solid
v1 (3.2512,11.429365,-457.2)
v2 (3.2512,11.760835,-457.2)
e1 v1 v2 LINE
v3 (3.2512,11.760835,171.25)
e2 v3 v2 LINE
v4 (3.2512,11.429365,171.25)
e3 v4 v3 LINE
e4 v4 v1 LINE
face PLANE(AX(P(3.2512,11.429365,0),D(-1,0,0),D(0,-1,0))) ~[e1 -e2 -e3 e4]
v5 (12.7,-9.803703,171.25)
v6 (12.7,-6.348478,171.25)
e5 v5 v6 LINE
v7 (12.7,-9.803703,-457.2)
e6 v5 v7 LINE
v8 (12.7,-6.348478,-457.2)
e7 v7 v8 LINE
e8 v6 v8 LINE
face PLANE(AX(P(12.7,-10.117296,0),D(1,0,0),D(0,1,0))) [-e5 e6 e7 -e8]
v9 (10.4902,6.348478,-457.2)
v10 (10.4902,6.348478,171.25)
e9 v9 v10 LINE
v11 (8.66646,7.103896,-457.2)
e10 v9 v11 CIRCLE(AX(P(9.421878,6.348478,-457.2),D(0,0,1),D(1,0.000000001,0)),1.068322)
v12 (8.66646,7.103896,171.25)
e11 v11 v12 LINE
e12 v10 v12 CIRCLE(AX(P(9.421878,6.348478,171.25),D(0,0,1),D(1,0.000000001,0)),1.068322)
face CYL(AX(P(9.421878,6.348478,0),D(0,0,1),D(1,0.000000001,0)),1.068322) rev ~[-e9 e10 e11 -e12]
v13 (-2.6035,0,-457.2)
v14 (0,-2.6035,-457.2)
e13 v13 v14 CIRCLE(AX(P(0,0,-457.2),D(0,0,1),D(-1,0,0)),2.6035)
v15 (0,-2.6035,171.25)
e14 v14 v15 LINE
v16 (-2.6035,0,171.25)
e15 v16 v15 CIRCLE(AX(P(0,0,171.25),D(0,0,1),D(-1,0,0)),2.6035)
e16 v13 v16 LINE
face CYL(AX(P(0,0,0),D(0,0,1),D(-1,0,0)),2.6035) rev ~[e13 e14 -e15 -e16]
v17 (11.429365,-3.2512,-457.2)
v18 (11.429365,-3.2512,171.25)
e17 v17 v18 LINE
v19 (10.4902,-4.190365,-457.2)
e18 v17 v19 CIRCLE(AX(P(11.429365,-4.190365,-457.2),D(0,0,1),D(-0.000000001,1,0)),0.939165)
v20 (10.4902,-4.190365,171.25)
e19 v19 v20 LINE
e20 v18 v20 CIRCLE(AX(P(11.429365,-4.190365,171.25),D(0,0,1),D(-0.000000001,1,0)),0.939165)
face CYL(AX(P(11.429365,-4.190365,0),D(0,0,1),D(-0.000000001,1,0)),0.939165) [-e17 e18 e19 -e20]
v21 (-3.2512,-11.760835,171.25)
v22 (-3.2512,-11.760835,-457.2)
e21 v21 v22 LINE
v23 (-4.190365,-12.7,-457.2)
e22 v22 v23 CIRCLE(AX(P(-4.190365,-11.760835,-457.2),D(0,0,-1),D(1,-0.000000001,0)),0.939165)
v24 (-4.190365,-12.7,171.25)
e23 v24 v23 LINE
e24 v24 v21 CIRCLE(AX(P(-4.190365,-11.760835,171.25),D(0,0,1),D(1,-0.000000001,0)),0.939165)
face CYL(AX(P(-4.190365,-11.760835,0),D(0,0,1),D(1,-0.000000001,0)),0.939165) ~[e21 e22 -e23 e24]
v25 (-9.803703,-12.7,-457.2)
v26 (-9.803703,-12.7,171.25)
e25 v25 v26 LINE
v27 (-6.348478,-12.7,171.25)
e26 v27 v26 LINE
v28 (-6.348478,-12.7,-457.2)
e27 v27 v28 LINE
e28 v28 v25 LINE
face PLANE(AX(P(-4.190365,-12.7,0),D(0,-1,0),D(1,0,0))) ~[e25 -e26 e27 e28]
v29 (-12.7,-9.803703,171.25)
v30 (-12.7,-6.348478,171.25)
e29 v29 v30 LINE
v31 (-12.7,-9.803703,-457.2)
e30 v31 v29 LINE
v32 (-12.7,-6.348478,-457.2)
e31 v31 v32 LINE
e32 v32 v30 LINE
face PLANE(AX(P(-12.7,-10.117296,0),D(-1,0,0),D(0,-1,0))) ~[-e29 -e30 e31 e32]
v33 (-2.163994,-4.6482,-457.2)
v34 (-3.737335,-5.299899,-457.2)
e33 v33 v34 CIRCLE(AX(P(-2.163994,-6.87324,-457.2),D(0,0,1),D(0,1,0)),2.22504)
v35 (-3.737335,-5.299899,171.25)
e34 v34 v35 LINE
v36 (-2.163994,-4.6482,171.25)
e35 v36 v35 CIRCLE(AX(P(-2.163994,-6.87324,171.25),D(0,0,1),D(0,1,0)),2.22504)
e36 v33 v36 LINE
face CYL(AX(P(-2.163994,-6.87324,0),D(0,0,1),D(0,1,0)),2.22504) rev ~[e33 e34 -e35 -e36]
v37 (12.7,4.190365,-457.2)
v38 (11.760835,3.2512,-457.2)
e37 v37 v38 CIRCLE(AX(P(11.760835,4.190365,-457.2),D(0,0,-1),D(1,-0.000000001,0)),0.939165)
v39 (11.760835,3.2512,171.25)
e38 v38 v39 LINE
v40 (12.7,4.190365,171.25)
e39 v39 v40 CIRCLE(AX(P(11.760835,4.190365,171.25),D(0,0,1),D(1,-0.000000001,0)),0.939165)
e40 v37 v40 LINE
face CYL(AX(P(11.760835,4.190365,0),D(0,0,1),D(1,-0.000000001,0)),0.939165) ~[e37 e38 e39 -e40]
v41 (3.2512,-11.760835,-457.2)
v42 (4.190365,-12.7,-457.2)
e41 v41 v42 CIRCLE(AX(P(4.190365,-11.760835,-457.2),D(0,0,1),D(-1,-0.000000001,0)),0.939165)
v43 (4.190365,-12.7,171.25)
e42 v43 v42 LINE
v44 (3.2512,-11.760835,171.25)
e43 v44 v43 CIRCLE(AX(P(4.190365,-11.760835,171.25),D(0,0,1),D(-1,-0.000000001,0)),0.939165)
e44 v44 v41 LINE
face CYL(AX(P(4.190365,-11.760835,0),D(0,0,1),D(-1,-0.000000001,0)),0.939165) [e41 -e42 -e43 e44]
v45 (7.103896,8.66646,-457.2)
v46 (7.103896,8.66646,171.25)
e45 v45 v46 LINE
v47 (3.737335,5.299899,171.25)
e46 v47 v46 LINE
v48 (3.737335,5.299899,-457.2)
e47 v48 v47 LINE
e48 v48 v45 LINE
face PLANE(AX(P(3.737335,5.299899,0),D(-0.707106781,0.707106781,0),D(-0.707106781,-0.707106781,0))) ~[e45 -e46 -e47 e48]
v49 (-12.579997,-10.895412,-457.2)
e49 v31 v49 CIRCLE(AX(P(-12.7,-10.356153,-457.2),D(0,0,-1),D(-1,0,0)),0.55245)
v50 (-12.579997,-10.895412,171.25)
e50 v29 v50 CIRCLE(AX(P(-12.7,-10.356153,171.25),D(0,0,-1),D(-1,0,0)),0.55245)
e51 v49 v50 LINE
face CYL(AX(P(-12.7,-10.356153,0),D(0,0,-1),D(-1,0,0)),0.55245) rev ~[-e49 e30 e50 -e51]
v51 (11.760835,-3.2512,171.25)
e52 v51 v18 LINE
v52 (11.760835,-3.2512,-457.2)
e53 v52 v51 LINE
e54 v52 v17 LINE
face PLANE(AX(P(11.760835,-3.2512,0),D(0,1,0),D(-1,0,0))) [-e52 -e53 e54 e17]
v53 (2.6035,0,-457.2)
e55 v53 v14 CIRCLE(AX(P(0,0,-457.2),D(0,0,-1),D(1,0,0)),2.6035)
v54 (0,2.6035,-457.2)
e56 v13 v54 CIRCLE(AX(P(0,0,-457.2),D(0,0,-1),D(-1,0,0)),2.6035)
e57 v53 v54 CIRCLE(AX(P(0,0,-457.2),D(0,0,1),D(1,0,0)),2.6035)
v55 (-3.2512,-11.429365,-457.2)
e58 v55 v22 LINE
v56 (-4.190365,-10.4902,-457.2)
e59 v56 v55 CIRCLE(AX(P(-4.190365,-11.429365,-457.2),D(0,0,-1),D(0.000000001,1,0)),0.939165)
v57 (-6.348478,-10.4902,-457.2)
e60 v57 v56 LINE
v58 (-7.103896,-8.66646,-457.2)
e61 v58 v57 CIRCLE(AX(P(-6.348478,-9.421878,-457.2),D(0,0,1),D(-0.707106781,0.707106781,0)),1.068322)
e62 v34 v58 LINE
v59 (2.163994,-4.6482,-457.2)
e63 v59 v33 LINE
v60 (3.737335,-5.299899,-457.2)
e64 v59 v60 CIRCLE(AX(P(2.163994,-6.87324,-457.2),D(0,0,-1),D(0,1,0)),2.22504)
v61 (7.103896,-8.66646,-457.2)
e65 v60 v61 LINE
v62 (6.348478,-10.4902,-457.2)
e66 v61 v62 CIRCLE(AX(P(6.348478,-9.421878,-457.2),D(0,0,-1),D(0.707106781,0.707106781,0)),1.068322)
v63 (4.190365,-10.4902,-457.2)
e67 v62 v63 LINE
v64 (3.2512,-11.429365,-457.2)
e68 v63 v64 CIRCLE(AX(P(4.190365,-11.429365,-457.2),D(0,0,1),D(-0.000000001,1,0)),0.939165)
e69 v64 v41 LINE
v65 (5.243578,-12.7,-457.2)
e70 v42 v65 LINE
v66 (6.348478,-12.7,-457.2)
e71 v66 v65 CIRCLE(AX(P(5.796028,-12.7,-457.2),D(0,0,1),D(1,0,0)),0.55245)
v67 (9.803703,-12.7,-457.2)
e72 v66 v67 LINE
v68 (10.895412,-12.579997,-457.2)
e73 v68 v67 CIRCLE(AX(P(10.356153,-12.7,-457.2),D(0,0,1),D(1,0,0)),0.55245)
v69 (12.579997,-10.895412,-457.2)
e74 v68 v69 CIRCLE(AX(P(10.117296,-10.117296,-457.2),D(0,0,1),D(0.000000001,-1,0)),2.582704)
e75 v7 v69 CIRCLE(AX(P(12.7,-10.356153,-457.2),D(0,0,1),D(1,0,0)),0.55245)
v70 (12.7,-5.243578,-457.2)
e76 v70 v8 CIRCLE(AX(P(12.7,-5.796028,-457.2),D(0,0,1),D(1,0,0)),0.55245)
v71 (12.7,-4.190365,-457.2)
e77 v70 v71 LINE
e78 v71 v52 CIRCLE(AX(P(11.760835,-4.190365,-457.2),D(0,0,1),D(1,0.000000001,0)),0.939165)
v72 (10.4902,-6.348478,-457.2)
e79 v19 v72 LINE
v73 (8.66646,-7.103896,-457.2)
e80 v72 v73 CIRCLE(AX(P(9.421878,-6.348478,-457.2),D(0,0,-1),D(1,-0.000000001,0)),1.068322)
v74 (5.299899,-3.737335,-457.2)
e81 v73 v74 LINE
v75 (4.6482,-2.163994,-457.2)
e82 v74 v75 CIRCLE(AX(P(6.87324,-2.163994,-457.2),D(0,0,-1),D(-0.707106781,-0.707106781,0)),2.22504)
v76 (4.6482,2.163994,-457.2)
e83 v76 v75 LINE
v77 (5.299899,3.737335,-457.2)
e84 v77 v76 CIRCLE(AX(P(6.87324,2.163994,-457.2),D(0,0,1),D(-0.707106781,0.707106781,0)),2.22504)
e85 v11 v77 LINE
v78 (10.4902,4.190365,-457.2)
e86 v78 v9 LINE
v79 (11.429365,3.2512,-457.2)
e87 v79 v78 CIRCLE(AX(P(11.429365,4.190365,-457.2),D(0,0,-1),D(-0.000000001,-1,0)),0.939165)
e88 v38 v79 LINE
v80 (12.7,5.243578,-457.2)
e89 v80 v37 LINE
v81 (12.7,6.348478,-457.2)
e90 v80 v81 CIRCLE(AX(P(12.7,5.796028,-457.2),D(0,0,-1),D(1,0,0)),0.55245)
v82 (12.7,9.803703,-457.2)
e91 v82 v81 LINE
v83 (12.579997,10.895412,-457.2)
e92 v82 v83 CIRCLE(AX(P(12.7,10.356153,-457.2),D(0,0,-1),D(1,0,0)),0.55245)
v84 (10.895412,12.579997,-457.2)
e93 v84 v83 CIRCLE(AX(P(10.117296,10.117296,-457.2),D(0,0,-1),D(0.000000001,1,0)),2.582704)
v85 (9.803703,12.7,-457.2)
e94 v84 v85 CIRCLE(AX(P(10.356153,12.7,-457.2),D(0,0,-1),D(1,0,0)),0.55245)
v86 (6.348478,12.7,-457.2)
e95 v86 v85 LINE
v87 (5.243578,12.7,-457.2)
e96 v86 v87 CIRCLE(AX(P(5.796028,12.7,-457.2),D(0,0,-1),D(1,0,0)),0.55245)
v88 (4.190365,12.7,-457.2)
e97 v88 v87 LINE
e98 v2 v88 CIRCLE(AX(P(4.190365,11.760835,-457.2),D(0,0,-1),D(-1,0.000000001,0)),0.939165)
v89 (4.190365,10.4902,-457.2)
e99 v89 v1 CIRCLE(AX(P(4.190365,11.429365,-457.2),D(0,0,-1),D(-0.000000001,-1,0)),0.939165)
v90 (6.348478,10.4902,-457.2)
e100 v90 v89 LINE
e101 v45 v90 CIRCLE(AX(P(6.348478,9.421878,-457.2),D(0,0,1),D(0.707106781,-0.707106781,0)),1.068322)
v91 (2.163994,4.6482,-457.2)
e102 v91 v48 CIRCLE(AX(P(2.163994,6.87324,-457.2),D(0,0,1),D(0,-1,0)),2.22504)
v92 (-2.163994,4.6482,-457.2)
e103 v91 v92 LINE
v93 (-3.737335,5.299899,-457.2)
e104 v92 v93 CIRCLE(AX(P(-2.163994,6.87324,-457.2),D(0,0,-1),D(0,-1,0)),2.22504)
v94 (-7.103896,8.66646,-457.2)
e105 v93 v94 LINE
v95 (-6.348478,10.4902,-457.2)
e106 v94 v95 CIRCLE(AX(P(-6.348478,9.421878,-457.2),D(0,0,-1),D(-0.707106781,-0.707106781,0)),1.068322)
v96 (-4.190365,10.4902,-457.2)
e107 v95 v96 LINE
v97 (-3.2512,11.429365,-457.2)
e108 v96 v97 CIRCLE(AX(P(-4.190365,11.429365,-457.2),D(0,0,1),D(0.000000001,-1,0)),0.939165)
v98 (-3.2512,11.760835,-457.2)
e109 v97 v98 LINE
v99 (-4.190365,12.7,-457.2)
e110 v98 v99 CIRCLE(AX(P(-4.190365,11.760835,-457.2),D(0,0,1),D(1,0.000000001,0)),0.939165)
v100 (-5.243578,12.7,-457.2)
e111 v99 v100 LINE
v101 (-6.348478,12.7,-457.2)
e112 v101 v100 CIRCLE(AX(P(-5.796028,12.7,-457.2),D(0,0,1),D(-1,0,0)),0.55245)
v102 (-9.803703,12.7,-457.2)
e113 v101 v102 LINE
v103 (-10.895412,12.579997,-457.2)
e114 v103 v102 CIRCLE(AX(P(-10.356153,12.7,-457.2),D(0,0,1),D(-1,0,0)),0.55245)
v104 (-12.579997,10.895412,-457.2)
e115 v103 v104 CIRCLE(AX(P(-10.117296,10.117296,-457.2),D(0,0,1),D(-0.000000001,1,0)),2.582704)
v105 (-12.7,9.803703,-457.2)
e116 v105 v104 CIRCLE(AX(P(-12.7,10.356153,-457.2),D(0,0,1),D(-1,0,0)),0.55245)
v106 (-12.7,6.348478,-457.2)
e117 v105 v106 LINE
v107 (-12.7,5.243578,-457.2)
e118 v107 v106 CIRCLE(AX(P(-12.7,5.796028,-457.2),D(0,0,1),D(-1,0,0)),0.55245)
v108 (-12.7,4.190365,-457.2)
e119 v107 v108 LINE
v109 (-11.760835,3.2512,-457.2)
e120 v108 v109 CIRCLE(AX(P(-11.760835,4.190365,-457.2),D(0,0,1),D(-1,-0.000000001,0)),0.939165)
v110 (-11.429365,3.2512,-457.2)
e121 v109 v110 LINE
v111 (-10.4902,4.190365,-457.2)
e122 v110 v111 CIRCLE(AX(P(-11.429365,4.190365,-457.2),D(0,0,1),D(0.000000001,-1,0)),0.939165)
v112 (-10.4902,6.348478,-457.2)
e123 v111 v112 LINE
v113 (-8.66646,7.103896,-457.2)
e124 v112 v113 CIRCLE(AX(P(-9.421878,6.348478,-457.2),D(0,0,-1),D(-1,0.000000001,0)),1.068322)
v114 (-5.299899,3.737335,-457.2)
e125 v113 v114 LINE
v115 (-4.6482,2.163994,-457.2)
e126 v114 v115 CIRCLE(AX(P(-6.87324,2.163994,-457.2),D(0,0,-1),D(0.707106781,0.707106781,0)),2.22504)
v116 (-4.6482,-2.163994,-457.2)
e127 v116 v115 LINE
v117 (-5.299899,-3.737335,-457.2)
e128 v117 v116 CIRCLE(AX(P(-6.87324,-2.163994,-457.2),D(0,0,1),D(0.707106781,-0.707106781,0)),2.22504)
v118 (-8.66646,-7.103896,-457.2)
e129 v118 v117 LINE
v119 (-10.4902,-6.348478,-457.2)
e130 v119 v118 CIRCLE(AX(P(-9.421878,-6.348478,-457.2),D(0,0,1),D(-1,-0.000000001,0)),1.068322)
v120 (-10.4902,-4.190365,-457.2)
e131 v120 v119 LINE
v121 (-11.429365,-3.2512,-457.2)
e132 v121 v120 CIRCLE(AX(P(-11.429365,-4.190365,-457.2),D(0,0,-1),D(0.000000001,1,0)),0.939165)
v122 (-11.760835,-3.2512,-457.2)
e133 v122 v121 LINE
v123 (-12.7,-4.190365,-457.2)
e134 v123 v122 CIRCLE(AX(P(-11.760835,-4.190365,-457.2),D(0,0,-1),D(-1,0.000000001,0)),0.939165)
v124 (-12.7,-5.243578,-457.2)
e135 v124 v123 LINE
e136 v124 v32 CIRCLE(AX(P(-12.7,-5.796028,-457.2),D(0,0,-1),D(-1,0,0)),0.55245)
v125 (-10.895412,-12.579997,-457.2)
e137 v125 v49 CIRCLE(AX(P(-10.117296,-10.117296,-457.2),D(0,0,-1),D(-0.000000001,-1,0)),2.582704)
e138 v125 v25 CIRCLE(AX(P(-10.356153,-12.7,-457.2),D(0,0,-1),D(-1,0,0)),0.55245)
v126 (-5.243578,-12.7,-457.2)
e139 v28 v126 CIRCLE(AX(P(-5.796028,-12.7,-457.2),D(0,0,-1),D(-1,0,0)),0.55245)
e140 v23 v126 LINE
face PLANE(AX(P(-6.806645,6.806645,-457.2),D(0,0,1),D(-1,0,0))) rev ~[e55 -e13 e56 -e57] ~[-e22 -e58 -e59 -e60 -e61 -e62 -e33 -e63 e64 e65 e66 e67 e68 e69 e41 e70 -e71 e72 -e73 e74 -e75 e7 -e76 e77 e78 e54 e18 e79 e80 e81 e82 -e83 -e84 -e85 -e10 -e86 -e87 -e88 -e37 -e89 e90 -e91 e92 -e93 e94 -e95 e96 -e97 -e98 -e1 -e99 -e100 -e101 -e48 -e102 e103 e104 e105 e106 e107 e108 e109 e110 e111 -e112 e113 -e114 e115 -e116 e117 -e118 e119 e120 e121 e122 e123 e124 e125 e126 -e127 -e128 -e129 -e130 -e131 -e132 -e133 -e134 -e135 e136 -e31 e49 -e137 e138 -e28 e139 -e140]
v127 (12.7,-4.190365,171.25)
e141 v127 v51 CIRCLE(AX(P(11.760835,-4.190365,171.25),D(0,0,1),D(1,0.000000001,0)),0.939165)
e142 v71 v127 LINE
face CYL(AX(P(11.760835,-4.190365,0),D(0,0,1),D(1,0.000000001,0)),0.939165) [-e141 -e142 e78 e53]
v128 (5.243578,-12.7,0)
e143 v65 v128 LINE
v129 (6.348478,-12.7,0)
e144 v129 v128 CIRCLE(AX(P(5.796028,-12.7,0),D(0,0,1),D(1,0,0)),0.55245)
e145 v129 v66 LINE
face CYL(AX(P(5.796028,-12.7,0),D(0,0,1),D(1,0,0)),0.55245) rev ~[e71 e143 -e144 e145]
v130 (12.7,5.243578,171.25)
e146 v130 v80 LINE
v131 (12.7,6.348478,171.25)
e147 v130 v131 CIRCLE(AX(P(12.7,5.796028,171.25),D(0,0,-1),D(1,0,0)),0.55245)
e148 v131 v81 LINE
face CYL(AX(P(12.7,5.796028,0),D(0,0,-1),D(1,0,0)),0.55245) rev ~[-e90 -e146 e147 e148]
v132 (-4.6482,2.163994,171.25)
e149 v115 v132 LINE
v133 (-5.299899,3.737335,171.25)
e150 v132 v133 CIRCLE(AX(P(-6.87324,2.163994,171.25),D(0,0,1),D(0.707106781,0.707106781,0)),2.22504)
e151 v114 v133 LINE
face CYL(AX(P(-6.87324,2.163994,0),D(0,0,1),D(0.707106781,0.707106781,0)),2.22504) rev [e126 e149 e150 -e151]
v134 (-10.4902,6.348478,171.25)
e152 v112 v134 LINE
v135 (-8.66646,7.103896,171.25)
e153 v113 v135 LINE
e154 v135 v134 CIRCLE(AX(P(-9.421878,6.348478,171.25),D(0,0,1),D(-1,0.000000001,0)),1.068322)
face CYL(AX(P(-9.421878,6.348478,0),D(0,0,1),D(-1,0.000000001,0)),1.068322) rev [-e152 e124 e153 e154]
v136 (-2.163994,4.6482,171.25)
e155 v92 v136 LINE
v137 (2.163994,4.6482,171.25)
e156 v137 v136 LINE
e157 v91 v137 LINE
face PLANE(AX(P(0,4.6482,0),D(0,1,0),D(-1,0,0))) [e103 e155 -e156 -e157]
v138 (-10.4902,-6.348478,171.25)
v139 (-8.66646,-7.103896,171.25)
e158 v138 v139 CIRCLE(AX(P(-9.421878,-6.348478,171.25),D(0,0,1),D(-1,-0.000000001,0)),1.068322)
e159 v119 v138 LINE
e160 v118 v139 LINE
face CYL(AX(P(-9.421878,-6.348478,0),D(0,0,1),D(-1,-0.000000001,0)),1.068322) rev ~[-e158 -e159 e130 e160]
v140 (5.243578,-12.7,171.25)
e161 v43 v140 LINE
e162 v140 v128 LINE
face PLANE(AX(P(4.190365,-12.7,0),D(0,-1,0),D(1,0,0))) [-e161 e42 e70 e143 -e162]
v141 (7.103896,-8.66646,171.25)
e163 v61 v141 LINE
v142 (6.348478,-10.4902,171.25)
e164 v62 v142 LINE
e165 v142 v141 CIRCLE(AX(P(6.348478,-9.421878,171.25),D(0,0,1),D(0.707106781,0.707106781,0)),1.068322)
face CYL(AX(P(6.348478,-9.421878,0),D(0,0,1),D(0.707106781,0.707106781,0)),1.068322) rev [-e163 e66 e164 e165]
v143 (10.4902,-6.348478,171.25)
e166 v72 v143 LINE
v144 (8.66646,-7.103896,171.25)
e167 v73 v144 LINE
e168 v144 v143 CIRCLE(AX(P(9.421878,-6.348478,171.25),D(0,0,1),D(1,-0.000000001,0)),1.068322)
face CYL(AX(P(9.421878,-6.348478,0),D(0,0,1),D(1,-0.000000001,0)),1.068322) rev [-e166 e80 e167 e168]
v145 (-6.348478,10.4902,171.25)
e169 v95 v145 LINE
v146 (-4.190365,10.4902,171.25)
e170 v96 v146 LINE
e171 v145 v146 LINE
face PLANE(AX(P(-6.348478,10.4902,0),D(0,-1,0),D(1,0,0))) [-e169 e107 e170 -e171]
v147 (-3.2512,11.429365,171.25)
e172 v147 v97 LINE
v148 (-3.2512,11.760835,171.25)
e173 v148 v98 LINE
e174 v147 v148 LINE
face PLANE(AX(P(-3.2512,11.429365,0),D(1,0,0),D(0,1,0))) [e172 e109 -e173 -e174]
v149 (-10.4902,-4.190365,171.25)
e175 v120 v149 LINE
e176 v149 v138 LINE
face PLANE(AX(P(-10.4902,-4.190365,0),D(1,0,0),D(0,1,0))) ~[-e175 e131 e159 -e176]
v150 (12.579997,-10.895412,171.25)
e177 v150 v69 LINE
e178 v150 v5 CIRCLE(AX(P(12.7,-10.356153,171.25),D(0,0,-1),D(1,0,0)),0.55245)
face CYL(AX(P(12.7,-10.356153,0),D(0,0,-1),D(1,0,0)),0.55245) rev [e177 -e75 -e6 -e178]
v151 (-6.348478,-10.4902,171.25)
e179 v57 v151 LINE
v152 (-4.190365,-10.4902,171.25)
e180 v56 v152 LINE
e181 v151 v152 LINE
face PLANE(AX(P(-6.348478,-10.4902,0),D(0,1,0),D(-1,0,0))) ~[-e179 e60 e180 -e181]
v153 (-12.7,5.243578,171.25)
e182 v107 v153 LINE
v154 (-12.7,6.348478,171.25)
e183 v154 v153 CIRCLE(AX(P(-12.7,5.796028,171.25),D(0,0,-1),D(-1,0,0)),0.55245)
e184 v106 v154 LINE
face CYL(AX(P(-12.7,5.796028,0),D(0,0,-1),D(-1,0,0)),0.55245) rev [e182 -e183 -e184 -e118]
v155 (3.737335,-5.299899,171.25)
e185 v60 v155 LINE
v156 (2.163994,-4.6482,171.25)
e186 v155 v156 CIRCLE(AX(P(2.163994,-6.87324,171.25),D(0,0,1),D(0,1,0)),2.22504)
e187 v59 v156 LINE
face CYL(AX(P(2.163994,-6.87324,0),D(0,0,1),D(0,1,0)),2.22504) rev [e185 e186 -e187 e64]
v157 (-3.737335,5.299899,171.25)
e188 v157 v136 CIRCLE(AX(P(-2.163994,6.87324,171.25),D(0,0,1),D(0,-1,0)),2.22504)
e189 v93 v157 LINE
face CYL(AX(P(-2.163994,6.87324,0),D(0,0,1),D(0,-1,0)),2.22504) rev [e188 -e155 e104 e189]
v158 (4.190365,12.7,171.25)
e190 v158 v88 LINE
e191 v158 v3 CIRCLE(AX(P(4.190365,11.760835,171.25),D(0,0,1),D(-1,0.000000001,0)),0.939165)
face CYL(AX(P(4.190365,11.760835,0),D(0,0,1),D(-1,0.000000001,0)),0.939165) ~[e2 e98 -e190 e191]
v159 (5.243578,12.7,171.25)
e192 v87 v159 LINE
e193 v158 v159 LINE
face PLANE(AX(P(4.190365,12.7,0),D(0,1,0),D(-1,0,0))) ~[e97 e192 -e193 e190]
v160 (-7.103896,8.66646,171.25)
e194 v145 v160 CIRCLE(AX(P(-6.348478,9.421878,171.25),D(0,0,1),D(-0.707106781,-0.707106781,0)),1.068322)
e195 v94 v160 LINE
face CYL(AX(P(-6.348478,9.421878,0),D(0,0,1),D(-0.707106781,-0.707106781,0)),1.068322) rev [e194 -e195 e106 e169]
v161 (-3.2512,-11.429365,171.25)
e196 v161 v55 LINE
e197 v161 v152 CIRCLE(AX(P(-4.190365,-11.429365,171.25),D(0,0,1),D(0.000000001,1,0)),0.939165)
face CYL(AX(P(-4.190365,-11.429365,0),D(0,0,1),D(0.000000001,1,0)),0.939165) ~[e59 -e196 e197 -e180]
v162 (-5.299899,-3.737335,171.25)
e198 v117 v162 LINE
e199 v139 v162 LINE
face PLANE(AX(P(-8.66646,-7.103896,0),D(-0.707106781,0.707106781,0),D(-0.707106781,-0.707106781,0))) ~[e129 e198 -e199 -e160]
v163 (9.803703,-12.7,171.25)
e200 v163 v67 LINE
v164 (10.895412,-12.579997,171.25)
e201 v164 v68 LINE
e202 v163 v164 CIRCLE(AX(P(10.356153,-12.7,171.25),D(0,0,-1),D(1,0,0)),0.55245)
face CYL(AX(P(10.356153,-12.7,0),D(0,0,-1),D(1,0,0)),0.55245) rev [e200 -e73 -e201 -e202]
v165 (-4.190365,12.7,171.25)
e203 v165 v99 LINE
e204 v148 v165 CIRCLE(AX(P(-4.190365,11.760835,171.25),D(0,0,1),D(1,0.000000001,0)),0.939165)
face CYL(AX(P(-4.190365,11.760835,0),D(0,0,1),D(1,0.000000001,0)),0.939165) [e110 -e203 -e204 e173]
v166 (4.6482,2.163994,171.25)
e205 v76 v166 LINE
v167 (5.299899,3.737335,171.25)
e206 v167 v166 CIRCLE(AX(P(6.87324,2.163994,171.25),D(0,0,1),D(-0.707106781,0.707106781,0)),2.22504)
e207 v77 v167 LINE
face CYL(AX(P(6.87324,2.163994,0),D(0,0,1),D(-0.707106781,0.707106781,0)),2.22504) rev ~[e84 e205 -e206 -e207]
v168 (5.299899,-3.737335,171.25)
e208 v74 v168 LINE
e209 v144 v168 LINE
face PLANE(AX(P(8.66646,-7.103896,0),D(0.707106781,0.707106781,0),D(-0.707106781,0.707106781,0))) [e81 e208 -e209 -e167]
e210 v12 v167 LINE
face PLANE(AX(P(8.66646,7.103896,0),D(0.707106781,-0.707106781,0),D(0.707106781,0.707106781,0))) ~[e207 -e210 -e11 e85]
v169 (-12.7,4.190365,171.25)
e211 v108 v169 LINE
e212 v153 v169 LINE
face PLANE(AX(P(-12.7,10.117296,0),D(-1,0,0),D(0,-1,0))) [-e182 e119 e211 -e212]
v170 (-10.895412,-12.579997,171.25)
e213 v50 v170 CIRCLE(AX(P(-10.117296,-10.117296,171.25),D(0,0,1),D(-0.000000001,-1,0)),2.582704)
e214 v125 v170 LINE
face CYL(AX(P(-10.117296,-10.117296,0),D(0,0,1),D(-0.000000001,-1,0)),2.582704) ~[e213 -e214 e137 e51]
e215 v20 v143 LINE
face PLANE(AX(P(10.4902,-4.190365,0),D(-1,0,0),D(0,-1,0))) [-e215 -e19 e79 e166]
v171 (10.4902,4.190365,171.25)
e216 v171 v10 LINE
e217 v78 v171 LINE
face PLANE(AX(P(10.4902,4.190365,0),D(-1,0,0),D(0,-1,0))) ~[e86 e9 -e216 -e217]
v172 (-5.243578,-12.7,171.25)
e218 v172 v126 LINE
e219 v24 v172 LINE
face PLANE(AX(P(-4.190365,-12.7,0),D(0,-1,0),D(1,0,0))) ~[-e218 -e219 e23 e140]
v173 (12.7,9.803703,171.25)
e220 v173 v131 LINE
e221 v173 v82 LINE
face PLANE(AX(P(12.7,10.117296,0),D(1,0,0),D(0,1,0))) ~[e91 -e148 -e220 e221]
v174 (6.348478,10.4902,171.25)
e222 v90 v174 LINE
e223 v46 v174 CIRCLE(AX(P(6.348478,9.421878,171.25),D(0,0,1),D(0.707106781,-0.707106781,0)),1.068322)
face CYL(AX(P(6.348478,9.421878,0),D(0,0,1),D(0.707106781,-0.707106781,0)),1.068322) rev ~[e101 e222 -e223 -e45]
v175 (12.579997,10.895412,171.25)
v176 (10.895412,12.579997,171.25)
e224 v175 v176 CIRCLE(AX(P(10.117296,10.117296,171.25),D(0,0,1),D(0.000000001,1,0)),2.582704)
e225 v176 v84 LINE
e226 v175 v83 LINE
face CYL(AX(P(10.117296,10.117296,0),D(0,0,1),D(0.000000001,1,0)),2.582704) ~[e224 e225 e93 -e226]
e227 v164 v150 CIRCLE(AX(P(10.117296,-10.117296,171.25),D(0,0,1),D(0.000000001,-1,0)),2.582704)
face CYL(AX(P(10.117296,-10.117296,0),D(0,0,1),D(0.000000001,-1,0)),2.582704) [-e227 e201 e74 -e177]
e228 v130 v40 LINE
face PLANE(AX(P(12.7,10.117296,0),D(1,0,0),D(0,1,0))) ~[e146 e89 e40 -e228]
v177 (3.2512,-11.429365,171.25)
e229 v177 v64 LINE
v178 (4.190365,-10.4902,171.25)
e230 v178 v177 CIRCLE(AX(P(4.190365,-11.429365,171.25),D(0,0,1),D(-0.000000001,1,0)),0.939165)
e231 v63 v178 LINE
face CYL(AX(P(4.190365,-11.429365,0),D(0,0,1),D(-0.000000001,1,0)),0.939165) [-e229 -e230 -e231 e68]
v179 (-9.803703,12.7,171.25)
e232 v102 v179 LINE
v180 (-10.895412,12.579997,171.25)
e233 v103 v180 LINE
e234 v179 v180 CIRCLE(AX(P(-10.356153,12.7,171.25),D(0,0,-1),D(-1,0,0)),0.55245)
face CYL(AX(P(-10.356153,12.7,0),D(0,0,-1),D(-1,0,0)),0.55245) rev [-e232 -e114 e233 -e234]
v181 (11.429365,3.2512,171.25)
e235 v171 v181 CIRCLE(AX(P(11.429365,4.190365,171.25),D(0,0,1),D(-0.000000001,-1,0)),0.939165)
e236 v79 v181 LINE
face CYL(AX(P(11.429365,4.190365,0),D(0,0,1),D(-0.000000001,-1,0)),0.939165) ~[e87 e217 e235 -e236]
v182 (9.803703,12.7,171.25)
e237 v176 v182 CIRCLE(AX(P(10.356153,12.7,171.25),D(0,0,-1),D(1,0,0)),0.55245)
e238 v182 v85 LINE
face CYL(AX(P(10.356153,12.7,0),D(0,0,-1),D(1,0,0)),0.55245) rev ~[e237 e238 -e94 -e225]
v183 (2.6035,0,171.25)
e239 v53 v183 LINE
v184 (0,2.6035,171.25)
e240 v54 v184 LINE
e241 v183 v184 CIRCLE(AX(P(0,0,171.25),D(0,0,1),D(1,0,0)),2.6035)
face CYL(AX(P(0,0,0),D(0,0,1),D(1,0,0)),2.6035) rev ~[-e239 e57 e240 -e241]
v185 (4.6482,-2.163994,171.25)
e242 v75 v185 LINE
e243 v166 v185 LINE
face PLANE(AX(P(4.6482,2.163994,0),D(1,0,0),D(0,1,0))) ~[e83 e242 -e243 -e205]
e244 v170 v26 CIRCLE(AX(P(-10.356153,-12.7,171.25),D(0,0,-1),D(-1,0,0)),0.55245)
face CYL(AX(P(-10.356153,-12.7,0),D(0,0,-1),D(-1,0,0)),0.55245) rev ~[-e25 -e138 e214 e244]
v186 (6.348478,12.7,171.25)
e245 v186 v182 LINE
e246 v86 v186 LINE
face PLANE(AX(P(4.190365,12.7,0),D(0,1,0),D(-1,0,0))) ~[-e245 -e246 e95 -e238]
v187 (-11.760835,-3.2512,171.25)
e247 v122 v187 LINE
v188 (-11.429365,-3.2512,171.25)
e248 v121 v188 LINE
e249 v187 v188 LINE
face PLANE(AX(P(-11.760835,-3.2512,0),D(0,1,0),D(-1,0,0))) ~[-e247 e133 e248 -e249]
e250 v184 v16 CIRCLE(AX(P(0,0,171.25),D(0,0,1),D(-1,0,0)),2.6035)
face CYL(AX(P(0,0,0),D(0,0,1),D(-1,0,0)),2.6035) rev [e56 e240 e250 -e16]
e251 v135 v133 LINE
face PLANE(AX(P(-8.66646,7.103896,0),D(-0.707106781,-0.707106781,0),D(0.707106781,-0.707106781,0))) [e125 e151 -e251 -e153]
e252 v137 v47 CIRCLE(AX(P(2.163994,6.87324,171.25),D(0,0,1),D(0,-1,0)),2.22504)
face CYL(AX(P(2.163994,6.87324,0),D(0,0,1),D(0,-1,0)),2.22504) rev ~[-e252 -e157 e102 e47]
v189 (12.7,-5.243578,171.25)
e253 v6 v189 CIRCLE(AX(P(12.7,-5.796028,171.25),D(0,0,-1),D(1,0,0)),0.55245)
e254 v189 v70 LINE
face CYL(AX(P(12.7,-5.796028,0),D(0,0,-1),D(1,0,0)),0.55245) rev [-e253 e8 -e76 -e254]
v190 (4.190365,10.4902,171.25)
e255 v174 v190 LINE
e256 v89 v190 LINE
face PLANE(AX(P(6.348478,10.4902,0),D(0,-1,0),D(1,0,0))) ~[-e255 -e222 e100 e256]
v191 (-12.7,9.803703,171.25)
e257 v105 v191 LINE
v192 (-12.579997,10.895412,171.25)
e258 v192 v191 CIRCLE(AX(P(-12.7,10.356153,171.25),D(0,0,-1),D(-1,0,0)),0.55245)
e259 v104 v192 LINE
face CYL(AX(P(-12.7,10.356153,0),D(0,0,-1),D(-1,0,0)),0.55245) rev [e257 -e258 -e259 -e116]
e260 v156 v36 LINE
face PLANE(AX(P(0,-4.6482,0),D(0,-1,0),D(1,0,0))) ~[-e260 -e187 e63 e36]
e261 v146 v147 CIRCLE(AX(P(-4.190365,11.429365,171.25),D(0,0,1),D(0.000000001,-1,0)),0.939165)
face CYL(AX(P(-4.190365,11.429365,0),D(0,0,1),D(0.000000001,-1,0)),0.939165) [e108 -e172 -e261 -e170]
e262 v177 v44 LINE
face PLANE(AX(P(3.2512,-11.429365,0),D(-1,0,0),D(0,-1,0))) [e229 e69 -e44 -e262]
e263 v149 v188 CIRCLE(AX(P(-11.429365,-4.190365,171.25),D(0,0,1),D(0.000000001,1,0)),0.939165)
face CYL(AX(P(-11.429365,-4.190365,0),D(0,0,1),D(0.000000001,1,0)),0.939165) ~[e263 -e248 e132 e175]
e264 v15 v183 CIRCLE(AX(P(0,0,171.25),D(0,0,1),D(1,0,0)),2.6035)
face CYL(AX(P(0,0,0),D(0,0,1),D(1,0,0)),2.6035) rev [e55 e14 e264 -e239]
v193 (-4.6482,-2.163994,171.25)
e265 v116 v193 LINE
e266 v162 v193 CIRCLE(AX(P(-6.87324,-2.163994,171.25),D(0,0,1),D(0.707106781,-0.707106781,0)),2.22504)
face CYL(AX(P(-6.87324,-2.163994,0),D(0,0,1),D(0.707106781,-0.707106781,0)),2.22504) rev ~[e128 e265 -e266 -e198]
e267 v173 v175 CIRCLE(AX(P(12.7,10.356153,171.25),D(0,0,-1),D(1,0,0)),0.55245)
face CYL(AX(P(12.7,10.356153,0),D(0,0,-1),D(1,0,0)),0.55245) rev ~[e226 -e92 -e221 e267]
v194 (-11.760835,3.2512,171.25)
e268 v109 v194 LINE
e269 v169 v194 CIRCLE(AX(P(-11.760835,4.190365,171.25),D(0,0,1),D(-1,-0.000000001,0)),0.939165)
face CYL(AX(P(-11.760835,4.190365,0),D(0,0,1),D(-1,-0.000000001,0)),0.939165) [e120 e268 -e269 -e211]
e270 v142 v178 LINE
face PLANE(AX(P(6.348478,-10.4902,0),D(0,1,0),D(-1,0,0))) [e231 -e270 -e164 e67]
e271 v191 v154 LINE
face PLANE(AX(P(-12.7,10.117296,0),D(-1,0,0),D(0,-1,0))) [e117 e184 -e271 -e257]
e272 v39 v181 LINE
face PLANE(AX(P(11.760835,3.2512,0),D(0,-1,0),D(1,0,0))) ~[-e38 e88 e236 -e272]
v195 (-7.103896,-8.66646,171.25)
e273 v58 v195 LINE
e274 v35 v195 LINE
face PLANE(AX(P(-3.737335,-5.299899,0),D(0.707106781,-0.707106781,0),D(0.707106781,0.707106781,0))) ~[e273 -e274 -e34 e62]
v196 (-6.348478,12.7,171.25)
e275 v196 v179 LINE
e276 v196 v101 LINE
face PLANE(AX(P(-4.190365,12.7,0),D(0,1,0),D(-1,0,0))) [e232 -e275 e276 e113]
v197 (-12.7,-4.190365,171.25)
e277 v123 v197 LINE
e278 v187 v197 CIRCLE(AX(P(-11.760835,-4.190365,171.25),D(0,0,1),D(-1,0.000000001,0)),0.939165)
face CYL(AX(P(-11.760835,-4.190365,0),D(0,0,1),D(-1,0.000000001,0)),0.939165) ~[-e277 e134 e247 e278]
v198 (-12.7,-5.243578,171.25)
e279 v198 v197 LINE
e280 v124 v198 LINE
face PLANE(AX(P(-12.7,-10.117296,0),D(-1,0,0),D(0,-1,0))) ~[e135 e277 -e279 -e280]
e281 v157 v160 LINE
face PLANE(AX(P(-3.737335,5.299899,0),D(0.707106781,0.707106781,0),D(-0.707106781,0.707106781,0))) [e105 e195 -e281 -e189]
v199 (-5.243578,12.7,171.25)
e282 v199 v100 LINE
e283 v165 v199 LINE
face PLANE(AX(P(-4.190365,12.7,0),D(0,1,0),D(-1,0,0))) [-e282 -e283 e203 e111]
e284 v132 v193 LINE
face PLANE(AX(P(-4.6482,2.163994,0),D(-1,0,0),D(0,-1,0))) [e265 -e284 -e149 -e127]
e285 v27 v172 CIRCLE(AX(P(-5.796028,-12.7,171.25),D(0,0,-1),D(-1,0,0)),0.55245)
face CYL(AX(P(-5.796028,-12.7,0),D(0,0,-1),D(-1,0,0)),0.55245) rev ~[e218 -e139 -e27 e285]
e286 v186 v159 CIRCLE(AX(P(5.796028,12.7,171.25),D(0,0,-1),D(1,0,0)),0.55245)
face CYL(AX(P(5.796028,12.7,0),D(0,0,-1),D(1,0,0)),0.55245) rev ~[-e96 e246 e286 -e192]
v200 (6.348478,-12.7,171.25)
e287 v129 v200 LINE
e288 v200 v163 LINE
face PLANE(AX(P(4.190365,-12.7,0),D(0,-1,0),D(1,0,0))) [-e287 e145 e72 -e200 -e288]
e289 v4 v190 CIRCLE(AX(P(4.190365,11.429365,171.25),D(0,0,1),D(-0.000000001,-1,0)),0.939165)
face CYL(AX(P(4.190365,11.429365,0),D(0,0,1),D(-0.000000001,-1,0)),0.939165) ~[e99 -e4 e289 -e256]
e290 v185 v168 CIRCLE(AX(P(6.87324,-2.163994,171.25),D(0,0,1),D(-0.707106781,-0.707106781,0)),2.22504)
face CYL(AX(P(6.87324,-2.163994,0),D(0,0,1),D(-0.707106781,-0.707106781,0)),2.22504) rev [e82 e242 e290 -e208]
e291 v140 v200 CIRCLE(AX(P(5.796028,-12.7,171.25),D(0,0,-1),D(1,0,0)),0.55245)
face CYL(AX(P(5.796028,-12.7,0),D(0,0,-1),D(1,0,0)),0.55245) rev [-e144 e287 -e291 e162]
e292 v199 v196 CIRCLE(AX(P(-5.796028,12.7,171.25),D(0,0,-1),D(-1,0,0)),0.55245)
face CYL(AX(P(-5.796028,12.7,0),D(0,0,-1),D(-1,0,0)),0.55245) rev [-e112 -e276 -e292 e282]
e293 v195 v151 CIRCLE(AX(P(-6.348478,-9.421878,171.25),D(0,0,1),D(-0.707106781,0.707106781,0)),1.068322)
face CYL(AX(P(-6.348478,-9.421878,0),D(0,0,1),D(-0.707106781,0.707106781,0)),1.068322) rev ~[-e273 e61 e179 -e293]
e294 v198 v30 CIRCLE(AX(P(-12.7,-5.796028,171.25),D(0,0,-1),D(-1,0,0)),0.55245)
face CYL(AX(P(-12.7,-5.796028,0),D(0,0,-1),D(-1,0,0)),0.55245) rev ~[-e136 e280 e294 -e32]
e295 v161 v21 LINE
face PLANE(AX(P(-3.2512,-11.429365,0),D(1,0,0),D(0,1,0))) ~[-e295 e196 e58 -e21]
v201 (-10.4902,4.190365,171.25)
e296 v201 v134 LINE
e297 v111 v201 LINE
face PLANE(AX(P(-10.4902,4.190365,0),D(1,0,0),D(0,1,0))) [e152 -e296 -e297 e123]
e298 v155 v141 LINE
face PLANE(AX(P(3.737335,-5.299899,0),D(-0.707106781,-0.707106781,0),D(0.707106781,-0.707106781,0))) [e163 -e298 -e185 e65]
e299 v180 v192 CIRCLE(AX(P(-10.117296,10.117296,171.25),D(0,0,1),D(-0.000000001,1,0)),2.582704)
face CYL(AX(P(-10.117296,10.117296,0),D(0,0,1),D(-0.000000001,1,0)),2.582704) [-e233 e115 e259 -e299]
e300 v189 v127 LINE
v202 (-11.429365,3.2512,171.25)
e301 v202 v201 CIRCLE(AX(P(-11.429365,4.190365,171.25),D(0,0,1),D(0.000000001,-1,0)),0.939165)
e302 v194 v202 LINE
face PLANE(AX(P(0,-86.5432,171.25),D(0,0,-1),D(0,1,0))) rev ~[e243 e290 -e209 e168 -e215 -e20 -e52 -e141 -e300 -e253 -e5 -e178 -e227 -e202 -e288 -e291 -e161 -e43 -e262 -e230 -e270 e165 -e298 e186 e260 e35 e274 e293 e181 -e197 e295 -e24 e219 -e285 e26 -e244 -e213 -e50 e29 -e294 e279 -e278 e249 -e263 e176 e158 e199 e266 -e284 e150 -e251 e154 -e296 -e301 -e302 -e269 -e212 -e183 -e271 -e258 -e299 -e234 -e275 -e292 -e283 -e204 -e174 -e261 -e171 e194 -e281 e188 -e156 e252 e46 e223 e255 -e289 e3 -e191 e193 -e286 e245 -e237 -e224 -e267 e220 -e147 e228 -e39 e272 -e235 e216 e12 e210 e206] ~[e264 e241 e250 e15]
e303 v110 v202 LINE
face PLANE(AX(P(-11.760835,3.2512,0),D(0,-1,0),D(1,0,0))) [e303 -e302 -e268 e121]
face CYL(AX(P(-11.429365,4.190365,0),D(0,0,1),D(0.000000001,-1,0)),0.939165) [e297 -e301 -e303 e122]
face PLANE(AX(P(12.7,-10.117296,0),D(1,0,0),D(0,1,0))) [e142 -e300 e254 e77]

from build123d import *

# Parameters (mm, degrees)
BOSS_EXTRUDE1_DEPTH     = 457.2
SKETCH5_R               = 0.55245
CUT_EXTRUDE1_DEPTH      = 458.2
CUT_EXTRUDE1_DEPTH_BACK = 458.2
SKETCH6_W               = 452.610989416
SKETCH6_H               = 156.175660084
CUT_EXTRUDE2_DEPTH      = 13.97


with BuildPart() as part:
    # Sketch4 → Boss-Extrude1 (new body, symmetric)
    with BuildSketch(Plane.XY):
        with BuildLine():
            Line((4.190365, -12.7), (10.11729625, -12.7))
            ThreePointArc((10.11729625, -12.7), (11.943543585, -11.943543585), (12.7, -10.11729625))
            Line((12.7, -10.11729625), (12.7, -4.190365))
            ThreePointArc((12.7, -4.190365), (12.42492494, -3.52627506), (11.760835, -3.2512))
            Line((11.760835, -3.2512), (11.429365, -3.2512))
            ThreePointArc((11.429365, -3.2512), (10.76527506, -3.52627506), (10.4902, -4.190365))
            Line((10.4902, -4.190365), (10.4902, -6.348478019))
            ThreePointArc((10.4902, -6.348478019), (9.830707141, -7.335478831), (8.666460301, -7.103895736))
            Line((8.666460301, -7.103895736), (5.299899128, -3.737334563))
            ThreePointArc((5.299899128, -3.737334563), (4.817571085, -3.015479634), (4.6482, -2.16399369))
            Line((4.6482, -2.16399369), (4.6482, 0))
            Line((4.6482, 0), (2.6035, 0))
            ThreePointArc((2.6035, 0), (1.840952505, -1.840952505), (0, -2.6035))
            Line((0, -2.6035), (0, -4.6482))
            Line((0, -4.6482), (2.16399369, -4.6482))
            ThreePointArc((2.16399369, -4.6482), (3.015479634, -4.817571085), (3.737334563, -5.299899128))
            Line((3.737334563, -5.299899128), (7.103895736, -8.666460301))
            ThreePointArc((7.103895736, -8.666460301), (7.335478831, -9.830707141), (6.348478019, -10.4902))
            Line((6.348478019, -10.4902), (4.190365, -10.4902))
            ThreePointArc((4.190365, -10.4902), (3.52627506, -10.76527506), (3.2512, -11.429365))
            Line((3.2512, -11.429365), (3.2512, -11.760835))
            ThreePointArc((3.2512, -11.760835), (3.52627506, -12.42492494), (4.190365, -12.7))
        make_face()
    extrude(amount=BOSS_EXTRUDE1_DEPTH, both=True)

    # Sketch5 → Cut-Extrude1 (cut, two sides)
    with BuildSketch(Plane.XY) as cut_extrude1_sk:
        with Locations((10.356153152, -12.7)):
            Circle(SKETCH5_R)
        with Locations((5.796028019, -12.7)):
            Circle(SKETCH5_R)
        with Locations((12.7, -10.356153152)):
            Circle(SKETCH5_R)
        with Locations((12.7, -5.796028019)):
            Circle(SKETCH5_R)
    extrude(amount=CUT_EXTRUDE1_DEPTH, mode=Mode.SUBTRACT)
    extrude(cut_extrude1_sk.sketch, amount=-CUT_EXTRUDE1_DEPTH_BACK, mode=Mode.SUBTRACT)

    # Mirror1: part across plane


with BuildPart() as part_1:
    add(part.part)
    add(part.part.mirror(Plane(origin=(0, 0, 0), x_dir=(0, 0, 1), z_dir=(1, 0, 0))))

    # Mirror2: part across plane


with BuildPart() as part_2:
    add(part_1.part)
    add(part_1.part.mirror(Plane.ZX))

    # Sketch6 → Cut-Extrude2 (cut, symmetric)
    with BuildSketch(Plane(origin=(0, 0, 0), x_dir=(0, 0, -1), z_dir=(1, 0, 0))):
        with Locations((-397.555494708, -8.455370132)):
            Rectangle(SKETCH6_W, SKETCH6_H)
    extrude(amount=CUT_EXTRUDE2_DEPTH, both=True, mode=Mode.SUBTRACT)


solid = part_2.part
